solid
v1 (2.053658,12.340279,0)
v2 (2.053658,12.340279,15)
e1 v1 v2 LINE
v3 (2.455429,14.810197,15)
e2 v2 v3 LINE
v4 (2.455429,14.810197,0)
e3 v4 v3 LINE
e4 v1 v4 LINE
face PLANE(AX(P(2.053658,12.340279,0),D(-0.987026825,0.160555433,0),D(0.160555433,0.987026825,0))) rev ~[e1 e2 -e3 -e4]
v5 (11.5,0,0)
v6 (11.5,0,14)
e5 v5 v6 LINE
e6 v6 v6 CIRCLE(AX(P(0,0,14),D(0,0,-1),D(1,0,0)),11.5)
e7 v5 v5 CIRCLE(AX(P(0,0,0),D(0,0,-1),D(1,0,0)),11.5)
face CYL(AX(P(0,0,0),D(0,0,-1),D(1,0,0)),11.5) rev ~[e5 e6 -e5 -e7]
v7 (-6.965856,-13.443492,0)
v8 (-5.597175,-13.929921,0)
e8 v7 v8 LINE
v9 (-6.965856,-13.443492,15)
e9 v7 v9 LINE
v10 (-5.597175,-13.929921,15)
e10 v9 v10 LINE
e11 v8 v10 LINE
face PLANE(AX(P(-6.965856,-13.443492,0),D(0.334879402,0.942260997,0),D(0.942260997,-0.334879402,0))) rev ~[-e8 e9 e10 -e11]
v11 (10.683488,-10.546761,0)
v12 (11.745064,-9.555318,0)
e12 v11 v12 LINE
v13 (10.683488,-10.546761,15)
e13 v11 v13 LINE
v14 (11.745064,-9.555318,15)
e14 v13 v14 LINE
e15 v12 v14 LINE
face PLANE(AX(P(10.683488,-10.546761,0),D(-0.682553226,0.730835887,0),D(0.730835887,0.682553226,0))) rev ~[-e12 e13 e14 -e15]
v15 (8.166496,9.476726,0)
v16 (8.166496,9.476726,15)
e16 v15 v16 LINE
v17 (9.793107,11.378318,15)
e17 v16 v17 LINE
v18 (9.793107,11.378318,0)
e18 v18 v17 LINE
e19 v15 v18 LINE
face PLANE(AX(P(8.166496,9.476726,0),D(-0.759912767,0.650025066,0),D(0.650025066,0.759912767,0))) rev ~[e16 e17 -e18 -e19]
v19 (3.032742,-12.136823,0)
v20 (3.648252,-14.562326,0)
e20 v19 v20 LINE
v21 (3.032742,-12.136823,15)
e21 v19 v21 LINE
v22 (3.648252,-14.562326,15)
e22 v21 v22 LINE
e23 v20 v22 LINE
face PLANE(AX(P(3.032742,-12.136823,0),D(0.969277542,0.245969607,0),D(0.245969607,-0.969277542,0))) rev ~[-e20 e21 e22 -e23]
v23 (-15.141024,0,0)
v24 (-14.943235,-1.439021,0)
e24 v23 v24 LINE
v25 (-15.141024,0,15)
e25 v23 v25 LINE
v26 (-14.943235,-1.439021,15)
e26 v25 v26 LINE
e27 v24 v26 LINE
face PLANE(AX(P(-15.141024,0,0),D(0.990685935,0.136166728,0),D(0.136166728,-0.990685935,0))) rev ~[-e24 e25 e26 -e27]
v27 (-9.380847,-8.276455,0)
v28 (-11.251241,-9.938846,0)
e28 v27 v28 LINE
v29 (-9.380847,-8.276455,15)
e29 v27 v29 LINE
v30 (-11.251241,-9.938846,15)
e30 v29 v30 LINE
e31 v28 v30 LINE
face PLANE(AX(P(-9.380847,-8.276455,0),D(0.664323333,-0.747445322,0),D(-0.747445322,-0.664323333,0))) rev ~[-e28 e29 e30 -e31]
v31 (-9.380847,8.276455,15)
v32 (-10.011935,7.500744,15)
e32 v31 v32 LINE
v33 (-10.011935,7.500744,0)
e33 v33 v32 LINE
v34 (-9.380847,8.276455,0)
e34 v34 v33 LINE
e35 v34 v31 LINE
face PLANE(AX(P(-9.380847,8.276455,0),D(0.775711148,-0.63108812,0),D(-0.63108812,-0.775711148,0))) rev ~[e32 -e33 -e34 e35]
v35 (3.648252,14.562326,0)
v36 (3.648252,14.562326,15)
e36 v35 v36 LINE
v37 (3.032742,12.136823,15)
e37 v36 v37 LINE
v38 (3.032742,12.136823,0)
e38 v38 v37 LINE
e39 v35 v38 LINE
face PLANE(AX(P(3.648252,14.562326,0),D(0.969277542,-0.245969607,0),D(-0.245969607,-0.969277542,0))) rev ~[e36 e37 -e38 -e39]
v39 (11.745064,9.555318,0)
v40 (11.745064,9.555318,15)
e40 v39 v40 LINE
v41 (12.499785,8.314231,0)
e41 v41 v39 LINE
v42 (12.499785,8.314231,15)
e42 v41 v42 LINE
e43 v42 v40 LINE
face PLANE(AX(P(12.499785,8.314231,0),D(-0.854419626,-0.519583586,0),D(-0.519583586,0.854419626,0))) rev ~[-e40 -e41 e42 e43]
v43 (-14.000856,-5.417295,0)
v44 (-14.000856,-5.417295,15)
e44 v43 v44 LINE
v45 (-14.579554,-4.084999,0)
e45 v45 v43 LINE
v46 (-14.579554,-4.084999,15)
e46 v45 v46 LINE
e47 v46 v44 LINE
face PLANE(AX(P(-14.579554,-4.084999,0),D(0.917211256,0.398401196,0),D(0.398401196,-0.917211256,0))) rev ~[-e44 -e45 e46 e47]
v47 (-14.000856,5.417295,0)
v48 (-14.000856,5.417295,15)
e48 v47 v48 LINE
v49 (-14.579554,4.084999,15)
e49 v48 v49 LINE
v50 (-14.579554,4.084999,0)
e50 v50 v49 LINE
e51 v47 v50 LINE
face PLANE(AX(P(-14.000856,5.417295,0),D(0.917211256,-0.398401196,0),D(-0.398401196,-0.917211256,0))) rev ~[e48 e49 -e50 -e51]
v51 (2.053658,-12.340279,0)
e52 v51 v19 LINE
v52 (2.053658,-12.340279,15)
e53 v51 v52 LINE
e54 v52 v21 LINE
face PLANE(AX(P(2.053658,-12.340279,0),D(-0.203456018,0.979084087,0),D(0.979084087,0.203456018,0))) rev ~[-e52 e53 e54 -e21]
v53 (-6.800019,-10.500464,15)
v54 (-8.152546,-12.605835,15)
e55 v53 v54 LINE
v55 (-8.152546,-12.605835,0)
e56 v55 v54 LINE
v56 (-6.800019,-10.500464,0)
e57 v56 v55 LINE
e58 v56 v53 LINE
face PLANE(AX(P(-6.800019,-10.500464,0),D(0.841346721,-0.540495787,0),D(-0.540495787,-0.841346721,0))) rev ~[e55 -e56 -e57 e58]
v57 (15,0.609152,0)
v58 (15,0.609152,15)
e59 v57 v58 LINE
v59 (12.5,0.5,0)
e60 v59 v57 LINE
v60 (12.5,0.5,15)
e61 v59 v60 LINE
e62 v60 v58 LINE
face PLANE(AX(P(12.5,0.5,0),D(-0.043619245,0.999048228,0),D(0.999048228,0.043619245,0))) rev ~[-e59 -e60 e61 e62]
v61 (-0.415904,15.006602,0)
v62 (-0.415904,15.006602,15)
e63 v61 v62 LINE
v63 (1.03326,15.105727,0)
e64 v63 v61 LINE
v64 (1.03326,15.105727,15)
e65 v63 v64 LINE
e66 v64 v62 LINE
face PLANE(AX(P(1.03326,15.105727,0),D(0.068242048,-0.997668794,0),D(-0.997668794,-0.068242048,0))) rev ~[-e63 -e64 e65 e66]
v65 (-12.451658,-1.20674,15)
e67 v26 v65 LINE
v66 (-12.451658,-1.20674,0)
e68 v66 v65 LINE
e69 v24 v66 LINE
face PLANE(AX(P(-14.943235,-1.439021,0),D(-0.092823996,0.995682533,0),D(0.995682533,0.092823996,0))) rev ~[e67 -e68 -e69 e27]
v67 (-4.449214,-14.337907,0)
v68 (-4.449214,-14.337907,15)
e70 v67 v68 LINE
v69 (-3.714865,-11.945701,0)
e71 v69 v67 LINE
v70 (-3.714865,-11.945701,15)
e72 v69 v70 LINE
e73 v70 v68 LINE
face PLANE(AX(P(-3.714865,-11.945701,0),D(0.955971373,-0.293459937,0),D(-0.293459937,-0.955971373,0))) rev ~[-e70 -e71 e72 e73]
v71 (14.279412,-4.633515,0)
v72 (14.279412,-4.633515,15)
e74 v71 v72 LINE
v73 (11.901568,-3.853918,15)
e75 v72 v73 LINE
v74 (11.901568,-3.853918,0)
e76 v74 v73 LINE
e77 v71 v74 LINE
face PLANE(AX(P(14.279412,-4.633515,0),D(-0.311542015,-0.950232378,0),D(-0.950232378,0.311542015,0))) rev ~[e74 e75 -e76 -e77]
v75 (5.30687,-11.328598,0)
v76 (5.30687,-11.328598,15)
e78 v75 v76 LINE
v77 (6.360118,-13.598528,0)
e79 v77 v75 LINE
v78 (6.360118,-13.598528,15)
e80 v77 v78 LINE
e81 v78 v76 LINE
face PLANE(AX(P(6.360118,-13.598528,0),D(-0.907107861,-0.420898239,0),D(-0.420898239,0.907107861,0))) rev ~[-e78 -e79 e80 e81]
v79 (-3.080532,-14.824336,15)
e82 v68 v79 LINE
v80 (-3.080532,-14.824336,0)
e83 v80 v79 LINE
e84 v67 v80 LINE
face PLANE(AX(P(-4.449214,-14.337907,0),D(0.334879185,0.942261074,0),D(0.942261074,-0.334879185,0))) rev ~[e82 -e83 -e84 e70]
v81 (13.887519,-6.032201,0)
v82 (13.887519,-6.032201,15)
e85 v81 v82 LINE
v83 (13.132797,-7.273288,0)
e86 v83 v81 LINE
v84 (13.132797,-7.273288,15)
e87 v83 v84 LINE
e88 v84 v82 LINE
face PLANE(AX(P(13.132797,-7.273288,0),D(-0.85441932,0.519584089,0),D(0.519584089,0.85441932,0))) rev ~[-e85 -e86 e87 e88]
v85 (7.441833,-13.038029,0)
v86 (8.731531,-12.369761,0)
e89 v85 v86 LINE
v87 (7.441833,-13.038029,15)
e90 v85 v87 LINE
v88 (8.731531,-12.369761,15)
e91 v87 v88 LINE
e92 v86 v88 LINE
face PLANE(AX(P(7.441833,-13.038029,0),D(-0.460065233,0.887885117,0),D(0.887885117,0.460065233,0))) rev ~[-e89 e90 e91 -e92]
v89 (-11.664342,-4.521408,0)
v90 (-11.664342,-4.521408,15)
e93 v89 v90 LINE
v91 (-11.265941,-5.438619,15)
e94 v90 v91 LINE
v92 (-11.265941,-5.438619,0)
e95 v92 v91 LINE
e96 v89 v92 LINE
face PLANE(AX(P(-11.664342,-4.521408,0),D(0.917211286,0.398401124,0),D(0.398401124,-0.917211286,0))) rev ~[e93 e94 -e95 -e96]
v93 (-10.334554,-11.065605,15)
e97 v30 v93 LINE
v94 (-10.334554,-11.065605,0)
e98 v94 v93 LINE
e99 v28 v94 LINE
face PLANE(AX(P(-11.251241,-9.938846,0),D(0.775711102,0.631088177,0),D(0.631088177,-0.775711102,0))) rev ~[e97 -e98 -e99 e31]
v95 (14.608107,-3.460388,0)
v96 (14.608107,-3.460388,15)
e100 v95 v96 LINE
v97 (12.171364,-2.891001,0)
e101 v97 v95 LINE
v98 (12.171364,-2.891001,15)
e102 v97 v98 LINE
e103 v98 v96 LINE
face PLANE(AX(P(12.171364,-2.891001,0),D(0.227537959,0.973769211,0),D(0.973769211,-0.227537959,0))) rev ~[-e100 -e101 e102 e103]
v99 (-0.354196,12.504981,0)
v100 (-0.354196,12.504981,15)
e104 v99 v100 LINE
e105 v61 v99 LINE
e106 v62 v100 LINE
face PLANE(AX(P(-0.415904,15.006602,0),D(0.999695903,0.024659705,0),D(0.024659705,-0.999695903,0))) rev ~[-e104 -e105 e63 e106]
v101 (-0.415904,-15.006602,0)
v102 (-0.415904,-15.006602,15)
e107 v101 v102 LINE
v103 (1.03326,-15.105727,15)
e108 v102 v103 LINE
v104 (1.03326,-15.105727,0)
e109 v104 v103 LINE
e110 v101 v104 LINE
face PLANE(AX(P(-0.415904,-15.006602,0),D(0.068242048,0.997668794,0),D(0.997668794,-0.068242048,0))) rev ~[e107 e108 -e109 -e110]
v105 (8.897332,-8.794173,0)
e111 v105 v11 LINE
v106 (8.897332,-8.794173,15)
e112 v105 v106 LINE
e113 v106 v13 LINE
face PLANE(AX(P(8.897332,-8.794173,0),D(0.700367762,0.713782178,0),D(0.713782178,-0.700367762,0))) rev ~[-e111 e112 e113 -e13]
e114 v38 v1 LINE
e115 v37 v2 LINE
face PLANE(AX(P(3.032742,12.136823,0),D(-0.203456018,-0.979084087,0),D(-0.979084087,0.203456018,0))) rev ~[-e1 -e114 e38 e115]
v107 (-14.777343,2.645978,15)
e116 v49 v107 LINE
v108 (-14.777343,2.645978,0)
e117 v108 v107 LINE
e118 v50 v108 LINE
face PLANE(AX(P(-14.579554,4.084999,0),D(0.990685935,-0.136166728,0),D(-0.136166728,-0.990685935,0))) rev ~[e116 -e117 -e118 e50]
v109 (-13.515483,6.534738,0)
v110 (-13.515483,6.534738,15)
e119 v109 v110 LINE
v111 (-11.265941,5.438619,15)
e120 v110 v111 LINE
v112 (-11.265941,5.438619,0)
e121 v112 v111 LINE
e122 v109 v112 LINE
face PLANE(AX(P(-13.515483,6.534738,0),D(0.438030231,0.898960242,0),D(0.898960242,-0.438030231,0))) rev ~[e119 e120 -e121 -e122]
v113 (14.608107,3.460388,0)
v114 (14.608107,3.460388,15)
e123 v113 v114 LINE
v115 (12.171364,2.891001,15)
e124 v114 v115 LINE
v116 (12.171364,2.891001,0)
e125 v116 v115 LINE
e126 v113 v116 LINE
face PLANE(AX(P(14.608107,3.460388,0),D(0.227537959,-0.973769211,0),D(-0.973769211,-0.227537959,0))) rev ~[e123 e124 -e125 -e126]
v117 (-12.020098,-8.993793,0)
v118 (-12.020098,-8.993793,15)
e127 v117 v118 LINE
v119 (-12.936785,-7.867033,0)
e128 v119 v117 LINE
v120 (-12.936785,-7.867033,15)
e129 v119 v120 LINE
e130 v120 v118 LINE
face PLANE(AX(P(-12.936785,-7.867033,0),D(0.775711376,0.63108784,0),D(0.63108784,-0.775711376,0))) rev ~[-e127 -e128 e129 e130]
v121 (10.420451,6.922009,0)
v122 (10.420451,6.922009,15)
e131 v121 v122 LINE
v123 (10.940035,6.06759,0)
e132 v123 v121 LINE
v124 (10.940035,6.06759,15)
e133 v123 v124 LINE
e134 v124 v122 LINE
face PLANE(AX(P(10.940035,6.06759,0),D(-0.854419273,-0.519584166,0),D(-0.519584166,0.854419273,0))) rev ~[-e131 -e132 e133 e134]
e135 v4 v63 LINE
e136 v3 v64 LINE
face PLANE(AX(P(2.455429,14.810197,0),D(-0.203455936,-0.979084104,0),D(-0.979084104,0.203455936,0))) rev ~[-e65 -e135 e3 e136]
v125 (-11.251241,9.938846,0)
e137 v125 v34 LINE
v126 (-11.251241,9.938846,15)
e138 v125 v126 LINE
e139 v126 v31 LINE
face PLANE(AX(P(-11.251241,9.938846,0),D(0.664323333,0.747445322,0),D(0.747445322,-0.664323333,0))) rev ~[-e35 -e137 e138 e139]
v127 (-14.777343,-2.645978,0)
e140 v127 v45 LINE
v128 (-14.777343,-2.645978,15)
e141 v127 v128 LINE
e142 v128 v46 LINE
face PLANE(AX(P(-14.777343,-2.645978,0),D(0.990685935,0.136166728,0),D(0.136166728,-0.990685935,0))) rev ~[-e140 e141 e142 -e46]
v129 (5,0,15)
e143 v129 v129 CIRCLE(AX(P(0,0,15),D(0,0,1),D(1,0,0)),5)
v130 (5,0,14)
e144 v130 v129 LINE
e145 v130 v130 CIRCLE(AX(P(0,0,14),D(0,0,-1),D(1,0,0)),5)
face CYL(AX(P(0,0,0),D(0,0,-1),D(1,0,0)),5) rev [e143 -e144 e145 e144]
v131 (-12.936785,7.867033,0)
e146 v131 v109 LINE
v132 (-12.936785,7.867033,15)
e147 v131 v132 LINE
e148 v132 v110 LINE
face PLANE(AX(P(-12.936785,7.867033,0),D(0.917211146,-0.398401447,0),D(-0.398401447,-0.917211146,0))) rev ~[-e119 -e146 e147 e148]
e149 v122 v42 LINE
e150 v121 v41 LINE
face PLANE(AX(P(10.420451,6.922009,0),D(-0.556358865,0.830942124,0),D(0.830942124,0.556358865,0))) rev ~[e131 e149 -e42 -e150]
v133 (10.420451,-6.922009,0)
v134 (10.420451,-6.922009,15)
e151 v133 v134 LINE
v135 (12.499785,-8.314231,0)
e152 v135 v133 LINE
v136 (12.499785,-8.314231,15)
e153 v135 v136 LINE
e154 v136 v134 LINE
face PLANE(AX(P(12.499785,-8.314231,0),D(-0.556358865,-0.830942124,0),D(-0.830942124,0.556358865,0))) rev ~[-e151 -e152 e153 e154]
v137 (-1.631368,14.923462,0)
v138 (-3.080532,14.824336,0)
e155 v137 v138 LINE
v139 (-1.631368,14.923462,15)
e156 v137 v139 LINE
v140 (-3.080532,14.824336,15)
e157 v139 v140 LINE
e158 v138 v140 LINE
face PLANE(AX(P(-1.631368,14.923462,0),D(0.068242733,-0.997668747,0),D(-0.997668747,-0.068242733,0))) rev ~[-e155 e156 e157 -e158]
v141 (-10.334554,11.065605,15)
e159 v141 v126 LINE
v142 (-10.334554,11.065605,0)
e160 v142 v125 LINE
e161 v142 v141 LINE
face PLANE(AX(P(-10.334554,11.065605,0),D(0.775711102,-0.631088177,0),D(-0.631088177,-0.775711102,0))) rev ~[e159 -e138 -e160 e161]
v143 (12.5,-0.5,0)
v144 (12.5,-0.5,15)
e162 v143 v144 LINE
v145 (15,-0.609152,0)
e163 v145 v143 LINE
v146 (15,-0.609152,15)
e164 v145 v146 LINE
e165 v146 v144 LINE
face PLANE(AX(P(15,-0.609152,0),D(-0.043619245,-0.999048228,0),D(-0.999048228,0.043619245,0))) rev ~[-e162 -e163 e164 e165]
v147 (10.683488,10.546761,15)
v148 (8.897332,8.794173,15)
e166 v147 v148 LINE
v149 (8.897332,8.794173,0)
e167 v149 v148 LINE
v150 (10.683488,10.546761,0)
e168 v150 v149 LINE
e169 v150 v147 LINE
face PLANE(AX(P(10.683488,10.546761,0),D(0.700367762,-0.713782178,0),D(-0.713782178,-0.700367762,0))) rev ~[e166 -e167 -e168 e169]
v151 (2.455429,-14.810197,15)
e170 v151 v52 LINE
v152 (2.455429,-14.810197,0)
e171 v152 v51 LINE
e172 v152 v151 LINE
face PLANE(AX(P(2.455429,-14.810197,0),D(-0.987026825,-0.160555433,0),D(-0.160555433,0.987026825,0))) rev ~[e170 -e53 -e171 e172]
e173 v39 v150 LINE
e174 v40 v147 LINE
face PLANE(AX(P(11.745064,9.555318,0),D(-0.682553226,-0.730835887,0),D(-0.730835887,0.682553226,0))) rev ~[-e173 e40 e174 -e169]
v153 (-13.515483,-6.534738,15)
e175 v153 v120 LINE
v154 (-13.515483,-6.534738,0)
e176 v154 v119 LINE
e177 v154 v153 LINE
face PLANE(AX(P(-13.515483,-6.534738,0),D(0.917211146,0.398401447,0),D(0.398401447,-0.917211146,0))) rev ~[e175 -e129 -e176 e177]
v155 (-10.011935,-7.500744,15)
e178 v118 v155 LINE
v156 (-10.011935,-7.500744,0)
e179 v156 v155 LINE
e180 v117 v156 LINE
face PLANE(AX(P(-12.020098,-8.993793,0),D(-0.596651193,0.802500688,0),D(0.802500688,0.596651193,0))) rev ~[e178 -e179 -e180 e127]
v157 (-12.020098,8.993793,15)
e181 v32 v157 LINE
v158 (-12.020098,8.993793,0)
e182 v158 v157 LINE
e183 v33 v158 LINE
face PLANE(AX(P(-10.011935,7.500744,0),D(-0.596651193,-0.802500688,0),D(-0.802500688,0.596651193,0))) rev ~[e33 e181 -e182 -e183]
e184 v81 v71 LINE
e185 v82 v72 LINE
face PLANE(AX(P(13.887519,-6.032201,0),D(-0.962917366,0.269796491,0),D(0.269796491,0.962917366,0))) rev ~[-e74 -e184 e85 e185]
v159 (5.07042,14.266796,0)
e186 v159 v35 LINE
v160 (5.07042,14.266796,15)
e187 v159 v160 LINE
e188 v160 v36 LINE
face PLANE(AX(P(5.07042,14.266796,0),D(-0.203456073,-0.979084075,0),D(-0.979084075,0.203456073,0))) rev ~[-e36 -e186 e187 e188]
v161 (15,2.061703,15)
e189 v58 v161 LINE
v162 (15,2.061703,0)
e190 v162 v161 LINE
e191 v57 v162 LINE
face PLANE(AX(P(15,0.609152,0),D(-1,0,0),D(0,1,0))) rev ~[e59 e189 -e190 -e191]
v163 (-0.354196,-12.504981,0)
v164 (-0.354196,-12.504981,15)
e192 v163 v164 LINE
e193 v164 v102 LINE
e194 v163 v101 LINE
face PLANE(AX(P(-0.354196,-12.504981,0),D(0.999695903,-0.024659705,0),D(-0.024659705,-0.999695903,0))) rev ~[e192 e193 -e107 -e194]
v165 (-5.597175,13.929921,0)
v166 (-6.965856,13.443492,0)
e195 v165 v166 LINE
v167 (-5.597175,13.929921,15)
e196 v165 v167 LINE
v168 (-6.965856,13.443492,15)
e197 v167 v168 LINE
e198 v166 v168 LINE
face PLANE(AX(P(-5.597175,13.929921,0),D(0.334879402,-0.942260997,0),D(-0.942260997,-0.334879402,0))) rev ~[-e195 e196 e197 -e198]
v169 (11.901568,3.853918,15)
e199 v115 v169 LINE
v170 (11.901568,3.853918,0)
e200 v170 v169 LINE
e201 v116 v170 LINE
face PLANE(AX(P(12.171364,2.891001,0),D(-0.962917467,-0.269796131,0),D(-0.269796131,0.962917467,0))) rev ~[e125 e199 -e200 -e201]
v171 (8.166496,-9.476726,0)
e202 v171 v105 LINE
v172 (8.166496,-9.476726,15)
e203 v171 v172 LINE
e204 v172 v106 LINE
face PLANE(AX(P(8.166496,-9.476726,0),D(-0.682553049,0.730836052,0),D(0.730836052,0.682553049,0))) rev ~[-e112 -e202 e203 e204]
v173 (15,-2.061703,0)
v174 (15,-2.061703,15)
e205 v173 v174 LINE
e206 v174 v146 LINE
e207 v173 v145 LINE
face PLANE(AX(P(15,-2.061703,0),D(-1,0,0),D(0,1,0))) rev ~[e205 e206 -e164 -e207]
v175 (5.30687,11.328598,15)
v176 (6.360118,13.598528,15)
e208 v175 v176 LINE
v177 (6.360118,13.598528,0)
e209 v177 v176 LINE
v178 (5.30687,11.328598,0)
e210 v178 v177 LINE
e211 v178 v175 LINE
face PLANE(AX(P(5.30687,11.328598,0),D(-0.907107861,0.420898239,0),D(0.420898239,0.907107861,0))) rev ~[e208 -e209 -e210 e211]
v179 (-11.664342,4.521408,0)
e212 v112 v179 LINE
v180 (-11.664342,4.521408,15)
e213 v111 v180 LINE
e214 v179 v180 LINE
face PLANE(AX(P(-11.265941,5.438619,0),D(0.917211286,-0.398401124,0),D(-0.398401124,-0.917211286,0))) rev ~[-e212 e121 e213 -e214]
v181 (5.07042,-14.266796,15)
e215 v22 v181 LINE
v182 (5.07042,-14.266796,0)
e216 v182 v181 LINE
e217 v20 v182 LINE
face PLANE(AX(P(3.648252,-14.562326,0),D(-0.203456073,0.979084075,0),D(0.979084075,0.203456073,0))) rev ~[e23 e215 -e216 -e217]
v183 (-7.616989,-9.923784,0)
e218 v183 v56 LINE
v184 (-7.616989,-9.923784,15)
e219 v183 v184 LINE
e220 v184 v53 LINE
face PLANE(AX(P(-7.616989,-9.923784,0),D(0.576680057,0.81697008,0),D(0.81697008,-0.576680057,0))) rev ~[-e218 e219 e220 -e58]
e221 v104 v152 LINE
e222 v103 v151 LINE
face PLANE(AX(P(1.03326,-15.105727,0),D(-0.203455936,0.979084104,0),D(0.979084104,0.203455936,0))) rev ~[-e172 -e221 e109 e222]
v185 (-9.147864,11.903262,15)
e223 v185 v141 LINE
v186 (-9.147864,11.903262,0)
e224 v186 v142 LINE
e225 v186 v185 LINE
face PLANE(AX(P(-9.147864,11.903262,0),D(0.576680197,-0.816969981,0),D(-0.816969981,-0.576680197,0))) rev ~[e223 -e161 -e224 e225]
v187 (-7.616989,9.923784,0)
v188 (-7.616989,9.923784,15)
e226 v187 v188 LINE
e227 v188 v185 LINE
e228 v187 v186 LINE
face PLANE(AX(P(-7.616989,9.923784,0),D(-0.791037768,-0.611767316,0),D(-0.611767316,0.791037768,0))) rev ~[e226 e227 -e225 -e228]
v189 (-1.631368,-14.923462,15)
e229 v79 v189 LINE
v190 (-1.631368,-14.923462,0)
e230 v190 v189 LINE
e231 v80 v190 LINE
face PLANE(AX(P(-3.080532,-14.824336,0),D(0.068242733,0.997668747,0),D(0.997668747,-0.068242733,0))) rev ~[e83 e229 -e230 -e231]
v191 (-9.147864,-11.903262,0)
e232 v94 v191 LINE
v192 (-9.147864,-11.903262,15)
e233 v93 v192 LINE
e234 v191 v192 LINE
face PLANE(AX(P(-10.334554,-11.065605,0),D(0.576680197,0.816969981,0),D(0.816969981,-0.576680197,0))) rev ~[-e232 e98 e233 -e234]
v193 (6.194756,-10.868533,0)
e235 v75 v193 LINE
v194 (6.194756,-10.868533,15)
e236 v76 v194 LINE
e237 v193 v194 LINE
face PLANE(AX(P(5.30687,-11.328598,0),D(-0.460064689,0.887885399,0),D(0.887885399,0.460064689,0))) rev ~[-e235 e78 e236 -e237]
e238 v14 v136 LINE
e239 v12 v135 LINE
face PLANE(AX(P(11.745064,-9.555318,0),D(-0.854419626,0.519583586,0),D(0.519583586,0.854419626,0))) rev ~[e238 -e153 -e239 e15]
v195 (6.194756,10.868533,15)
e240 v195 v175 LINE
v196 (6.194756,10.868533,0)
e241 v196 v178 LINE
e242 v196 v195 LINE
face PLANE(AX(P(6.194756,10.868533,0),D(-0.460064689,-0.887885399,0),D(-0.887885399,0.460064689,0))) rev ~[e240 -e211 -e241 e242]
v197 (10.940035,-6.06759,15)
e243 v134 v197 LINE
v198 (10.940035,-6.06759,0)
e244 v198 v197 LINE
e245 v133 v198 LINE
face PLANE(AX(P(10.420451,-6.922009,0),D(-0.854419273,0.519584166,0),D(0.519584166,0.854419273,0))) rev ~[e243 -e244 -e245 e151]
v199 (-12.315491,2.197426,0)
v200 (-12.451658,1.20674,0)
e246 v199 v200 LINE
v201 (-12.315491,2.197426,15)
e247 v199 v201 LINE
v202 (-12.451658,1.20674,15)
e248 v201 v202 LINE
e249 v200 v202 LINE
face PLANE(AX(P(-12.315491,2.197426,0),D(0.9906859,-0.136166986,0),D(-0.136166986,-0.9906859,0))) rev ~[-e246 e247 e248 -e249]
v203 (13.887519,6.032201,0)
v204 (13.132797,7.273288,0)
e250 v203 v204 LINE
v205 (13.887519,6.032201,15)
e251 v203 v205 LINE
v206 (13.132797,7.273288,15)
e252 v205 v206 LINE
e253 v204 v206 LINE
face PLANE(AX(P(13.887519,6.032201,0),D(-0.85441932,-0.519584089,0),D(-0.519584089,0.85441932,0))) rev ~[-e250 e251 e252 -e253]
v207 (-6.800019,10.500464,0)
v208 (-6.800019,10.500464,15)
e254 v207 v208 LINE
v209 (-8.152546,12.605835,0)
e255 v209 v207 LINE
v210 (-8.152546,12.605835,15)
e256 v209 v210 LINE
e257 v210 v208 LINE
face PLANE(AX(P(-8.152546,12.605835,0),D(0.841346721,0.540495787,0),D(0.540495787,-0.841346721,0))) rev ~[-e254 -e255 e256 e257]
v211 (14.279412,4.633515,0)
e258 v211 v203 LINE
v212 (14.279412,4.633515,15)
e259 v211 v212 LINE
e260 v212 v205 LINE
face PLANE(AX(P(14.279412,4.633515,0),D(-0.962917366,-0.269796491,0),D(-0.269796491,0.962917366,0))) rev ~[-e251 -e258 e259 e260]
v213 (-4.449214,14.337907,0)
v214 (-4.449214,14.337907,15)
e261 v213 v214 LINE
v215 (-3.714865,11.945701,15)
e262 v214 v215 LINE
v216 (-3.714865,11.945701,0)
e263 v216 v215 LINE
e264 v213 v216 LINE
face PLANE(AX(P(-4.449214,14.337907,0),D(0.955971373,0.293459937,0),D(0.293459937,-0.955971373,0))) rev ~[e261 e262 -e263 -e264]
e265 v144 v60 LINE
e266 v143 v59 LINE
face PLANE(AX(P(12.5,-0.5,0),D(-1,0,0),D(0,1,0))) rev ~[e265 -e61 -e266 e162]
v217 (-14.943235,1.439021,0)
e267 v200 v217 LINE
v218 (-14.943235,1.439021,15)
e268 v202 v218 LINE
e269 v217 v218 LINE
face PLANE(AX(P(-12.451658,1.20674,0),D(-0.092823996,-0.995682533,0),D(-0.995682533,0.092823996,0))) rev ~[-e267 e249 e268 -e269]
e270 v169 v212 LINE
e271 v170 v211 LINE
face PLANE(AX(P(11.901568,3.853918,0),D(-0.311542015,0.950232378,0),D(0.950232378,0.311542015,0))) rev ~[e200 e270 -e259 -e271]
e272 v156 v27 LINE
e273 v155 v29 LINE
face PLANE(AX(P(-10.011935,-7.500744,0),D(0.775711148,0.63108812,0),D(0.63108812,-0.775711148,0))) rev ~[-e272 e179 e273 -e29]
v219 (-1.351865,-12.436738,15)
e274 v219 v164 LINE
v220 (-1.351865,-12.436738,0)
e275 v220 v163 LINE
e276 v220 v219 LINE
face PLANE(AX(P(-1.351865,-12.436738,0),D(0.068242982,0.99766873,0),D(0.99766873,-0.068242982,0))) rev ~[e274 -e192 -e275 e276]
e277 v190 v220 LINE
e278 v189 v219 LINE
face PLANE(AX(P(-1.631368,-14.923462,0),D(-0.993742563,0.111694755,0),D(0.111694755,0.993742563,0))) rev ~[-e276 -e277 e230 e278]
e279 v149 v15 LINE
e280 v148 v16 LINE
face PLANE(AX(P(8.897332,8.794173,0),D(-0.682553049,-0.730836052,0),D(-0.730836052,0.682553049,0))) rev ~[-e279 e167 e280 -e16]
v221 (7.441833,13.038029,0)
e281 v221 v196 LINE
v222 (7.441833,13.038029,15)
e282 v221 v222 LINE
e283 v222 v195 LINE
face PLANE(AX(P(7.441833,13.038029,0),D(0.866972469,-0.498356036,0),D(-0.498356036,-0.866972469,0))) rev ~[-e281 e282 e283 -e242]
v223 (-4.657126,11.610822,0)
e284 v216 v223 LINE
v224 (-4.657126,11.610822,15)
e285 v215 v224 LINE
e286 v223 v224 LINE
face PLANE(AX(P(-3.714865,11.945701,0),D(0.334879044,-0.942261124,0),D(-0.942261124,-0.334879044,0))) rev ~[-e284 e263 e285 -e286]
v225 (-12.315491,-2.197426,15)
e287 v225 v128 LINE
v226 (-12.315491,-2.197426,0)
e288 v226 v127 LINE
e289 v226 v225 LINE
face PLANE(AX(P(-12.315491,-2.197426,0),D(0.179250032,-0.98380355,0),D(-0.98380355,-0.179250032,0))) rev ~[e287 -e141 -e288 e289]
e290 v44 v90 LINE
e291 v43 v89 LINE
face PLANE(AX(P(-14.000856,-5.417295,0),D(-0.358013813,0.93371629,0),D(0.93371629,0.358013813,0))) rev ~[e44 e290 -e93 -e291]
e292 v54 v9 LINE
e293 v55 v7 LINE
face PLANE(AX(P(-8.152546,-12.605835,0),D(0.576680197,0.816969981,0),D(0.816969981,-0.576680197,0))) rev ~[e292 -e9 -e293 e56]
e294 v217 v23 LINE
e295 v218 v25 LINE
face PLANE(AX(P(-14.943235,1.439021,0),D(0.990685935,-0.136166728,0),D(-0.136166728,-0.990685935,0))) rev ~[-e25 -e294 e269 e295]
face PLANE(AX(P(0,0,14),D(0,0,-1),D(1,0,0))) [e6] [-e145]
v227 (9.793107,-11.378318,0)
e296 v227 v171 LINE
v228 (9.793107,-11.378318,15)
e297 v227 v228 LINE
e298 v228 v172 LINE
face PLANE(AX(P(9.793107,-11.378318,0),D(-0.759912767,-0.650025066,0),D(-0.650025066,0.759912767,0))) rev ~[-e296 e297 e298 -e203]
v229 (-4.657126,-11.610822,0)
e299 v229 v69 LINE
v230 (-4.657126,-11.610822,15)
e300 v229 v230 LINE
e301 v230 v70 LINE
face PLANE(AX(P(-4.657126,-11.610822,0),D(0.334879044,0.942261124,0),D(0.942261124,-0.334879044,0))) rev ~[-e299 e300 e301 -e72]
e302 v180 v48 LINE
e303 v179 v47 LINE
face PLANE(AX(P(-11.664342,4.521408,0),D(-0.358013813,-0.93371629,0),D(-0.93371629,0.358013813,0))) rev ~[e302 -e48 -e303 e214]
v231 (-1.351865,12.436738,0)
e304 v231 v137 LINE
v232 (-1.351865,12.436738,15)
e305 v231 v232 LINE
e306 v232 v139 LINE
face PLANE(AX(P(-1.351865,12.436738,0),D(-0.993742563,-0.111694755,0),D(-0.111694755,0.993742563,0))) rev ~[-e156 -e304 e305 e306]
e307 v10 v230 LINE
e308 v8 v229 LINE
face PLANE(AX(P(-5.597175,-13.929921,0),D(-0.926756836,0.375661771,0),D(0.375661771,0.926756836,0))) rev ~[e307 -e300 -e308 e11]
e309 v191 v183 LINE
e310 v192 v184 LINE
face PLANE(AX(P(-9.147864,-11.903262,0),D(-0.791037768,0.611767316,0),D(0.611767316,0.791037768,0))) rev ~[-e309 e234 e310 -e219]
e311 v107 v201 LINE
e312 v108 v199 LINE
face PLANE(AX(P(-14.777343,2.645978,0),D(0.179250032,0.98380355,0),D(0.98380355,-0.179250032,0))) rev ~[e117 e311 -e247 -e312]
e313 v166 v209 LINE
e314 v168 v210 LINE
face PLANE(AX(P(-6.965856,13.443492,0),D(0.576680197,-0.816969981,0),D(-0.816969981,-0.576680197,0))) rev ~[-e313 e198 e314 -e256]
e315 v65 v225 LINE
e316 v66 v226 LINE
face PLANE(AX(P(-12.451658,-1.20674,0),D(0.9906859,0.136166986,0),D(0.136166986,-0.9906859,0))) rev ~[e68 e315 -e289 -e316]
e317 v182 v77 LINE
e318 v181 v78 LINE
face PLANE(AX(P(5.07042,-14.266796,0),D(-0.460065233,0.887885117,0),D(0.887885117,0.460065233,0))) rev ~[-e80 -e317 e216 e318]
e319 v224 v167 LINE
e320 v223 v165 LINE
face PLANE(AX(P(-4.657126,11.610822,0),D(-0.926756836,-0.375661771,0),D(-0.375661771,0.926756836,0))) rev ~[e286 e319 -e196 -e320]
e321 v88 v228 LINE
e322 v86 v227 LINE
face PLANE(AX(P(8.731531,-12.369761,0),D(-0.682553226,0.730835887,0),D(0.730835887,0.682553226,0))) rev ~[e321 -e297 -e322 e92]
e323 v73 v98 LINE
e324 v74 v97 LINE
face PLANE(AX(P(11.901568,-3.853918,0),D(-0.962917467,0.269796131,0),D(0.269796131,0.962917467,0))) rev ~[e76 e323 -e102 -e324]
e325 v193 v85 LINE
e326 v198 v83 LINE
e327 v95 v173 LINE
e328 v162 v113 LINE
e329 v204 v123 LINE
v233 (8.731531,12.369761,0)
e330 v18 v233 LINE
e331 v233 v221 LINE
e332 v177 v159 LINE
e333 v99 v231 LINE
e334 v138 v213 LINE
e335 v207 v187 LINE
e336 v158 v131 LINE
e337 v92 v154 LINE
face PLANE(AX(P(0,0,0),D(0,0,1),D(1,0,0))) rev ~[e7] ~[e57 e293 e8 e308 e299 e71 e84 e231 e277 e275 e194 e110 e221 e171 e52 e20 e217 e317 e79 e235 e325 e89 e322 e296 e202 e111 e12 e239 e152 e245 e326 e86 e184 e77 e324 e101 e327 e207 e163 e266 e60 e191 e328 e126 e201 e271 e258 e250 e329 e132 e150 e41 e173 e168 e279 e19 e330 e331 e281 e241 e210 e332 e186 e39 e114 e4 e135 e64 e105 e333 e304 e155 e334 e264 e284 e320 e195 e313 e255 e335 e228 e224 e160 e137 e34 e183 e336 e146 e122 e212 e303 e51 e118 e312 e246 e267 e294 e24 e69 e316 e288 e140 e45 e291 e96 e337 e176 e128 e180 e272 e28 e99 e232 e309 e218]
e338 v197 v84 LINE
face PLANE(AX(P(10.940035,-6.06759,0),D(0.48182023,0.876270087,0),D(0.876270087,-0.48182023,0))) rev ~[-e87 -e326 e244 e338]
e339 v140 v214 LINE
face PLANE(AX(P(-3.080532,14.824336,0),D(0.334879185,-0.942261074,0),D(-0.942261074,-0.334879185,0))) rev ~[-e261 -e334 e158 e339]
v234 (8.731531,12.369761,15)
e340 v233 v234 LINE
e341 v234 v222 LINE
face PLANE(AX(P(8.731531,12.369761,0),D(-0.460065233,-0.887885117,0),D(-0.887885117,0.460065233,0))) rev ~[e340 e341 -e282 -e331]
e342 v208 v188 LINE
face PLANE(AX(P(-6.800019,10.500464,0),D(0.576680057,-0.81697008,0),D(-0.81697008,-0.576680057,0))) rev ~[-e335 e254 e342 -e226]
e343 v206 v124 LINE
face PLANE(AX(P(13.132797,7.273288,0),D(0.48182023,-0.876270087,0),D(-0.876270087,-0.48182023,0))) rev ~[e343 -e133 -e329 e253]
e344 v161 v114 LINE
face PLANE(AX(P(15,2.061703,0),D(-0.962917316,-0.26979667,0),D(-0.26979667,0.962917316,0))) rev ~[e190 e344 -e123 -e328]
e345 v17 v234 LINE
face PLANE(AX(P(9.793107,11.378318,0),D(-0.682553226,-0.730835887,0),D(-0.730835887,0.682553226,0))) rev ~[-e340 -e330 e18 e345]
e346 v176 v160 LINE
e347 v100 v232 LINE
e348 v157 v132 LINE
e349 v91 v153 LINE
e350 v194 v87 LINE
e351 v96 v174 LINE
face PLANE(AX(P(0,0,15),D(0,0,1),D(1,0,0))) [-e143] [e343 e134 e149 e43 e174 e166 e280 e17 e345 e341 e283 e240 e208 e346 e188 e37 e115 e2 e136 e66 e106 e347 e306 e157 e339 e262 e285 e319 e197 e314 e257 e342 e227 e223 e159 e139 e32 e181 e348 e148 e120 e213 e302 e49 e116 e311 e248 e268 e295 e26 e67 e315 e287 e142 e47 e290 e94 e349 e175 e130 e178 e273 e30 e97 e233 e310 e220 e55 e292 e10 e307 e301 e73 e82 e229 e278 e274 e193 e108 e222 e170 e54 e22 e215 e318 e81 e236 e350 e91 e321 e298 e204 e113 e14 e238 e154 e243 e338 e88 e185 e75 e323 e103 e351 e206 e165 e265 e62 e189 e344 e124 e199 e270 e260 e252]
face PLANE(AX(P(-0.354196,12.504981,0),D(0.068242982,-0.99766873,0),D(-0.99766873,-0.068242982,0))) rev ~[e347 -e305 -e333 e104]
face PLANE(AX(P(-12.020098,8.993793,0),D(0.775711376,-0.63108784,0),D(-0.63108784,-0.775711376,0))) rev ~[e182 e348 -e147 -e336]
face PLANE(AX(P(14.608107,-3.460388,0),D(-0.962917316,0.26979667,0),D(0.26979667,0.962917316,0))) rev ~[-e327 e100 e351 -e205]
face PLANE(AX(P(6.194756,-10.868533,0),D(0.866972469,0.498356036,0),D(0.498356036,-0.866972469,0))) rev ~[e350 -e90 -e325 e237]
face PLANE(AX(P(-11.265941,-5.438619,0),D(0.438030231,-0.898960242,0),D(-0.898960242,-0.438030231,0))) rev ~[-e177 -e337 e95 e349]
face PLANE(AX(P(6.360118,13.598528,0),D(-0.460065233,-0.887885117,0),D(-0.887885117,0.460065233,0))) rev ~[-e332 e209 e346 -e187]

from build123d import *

# Parameters (mm, degrees)
F0_R     = 5
F1_DEPTH = 15
F2_R     = 11.5
F3_DEPTH = 14


with BuildPart() as f1:
    # F0 (on Top) → F1 (new body)
    with BuildSketch(Plane.XY):
        Polygon((15, 0.609152), (15, 2.061703), (14.608107, 3.460388), (12.171364, 2.891001), (11.901568, 3.853918), (14.279412, 4.633515), (13.887519, 6.032201), (13.132797, 7.273288), (10.940035, 6.06759), (10.420451, 6.922009), (12.499785, 8.314231), (11.745064, 9.555318), (10.683488, 10.546761), (8.897332, 8.794173), (8.166496, 9.476726), (9.793107, 11.378318), (8.731531, 12.369761), (7.441833, 13.038029), (6.194756, 10.868533), (5.30687, 11.328598), (6.360118, 13.598528), (5.07042, 14.266796), (3.648252, 14.562326), (3.032742, 12.136823), (2.053658, 12.340279), (2.455429, 14.810197), (1.03326, 15.105727), (-0.415904, 15.006602), (-0.354196, 12.504981), (-1.351865, 12.436738), (-1.631368, 14.923462), (-3.080532, 14.824336), (-4.449214, 14.337907), (-3.714865, 11.945701), (-4.657126, 11.610822), (-5.597175, 13.929921), (-6.965856, 13.443492), (-8.152546, 12.605835), (-6.800019, 10.500464), (-7.616989, 9.923784), (-9.147864, 11.903262), (-10.334554, 11.065605), (-11.251241, 9.938846), (-9.380847, 8.276455), (-10.011935, 7.500744), (-12.020098, 8.993793), (-12.936785, 7.867033), (-13.515483, 6.534738), (-11.265941, 5.438619), (-11.664342, 4.521408), (-14.000856, 5.417295), (-14.579554, 4.084999), (-14.777343, 2.645978), (-12.315491, 2.197426), (-12.451658, 1.20674), (-14.943235, 1.439021), (-15.141024, 0), (-14.943235, -1.439021), (-12.451658, -1.20674), (-12.315491, -2.197426), (-14.777343, -2.645978), (-14.579554, -4.084999), (-14.000856, -5.417295), (-11.664342, -4.521408), (-11.265941, -5.438619), (-13.515483, -6.534738), (-12.936785, -7.867033), (-12.020098, -8.993793), (-10.011935, -7.500744), (-9.380847, -8.276455), (-11.251241, -9.938846), (-10.334554, -11.065605), (-9.147864, -11.903262), (-7.616989, -9.923784), (-6.800019, -10.500464), (-8.152546, -12.605835), (-6.965856, -13.443492), (-5.597175, -13.929921), (-4.657126, -11.610822), (-3.714865, -11.945701), (-4.449214, -14.337907), (-3.080532, -14.824336), (-1.631368, -14.923462), (-1.351865, -12.436738), (-0.354196, -12.504981), (-0.415904, -15.006602), (1.03326, -15.105727), (2.455429, -14.810197), (2.053658, -12.340279), (3.032742, -12.136823), (3.648252, -14.562326), (5.07042, -14.266796), (6.360118, -13.598528), (5.30687, -11.328598), (6.194756, -10.868533), (7.441833, -13.038029), (8.731531, -12.369761), (9.793107, -11.378318), (8.166496, -9.476726), (8.897332, -8.794173), (10.683488, -10.546761), (11.745064, -9.555318), (12.499785, -8.314231), (10.420451, -6.922009), (10.940035, -6.06759), (13.132797, -7.273288), (13.887519, -6.032201), (14.279412, -4.633515), (11.901568, -3.853918), (12.171364, -2.891001), (14.608107, -3.460388), (15, -2.061703), (15, -0.609152), (12.5, -0.5), (12.5, 0.5), align=None)
        Circle(F0_R, mode=Mode.SUBTRACT)
    extrude(amount=F1_DEPTH)

    # F2 (on face) → F3 (cut)
    with BuildSketch(Plane(origin=(0, 0, 0), x_dir=(1, 0, 0), z_dir=(0, 0, -1))):
        Circle(F2_R)
    extrude(amount=-F3_DEPTH, mode=Mode.SUBTRACT)


solid = f1.part
